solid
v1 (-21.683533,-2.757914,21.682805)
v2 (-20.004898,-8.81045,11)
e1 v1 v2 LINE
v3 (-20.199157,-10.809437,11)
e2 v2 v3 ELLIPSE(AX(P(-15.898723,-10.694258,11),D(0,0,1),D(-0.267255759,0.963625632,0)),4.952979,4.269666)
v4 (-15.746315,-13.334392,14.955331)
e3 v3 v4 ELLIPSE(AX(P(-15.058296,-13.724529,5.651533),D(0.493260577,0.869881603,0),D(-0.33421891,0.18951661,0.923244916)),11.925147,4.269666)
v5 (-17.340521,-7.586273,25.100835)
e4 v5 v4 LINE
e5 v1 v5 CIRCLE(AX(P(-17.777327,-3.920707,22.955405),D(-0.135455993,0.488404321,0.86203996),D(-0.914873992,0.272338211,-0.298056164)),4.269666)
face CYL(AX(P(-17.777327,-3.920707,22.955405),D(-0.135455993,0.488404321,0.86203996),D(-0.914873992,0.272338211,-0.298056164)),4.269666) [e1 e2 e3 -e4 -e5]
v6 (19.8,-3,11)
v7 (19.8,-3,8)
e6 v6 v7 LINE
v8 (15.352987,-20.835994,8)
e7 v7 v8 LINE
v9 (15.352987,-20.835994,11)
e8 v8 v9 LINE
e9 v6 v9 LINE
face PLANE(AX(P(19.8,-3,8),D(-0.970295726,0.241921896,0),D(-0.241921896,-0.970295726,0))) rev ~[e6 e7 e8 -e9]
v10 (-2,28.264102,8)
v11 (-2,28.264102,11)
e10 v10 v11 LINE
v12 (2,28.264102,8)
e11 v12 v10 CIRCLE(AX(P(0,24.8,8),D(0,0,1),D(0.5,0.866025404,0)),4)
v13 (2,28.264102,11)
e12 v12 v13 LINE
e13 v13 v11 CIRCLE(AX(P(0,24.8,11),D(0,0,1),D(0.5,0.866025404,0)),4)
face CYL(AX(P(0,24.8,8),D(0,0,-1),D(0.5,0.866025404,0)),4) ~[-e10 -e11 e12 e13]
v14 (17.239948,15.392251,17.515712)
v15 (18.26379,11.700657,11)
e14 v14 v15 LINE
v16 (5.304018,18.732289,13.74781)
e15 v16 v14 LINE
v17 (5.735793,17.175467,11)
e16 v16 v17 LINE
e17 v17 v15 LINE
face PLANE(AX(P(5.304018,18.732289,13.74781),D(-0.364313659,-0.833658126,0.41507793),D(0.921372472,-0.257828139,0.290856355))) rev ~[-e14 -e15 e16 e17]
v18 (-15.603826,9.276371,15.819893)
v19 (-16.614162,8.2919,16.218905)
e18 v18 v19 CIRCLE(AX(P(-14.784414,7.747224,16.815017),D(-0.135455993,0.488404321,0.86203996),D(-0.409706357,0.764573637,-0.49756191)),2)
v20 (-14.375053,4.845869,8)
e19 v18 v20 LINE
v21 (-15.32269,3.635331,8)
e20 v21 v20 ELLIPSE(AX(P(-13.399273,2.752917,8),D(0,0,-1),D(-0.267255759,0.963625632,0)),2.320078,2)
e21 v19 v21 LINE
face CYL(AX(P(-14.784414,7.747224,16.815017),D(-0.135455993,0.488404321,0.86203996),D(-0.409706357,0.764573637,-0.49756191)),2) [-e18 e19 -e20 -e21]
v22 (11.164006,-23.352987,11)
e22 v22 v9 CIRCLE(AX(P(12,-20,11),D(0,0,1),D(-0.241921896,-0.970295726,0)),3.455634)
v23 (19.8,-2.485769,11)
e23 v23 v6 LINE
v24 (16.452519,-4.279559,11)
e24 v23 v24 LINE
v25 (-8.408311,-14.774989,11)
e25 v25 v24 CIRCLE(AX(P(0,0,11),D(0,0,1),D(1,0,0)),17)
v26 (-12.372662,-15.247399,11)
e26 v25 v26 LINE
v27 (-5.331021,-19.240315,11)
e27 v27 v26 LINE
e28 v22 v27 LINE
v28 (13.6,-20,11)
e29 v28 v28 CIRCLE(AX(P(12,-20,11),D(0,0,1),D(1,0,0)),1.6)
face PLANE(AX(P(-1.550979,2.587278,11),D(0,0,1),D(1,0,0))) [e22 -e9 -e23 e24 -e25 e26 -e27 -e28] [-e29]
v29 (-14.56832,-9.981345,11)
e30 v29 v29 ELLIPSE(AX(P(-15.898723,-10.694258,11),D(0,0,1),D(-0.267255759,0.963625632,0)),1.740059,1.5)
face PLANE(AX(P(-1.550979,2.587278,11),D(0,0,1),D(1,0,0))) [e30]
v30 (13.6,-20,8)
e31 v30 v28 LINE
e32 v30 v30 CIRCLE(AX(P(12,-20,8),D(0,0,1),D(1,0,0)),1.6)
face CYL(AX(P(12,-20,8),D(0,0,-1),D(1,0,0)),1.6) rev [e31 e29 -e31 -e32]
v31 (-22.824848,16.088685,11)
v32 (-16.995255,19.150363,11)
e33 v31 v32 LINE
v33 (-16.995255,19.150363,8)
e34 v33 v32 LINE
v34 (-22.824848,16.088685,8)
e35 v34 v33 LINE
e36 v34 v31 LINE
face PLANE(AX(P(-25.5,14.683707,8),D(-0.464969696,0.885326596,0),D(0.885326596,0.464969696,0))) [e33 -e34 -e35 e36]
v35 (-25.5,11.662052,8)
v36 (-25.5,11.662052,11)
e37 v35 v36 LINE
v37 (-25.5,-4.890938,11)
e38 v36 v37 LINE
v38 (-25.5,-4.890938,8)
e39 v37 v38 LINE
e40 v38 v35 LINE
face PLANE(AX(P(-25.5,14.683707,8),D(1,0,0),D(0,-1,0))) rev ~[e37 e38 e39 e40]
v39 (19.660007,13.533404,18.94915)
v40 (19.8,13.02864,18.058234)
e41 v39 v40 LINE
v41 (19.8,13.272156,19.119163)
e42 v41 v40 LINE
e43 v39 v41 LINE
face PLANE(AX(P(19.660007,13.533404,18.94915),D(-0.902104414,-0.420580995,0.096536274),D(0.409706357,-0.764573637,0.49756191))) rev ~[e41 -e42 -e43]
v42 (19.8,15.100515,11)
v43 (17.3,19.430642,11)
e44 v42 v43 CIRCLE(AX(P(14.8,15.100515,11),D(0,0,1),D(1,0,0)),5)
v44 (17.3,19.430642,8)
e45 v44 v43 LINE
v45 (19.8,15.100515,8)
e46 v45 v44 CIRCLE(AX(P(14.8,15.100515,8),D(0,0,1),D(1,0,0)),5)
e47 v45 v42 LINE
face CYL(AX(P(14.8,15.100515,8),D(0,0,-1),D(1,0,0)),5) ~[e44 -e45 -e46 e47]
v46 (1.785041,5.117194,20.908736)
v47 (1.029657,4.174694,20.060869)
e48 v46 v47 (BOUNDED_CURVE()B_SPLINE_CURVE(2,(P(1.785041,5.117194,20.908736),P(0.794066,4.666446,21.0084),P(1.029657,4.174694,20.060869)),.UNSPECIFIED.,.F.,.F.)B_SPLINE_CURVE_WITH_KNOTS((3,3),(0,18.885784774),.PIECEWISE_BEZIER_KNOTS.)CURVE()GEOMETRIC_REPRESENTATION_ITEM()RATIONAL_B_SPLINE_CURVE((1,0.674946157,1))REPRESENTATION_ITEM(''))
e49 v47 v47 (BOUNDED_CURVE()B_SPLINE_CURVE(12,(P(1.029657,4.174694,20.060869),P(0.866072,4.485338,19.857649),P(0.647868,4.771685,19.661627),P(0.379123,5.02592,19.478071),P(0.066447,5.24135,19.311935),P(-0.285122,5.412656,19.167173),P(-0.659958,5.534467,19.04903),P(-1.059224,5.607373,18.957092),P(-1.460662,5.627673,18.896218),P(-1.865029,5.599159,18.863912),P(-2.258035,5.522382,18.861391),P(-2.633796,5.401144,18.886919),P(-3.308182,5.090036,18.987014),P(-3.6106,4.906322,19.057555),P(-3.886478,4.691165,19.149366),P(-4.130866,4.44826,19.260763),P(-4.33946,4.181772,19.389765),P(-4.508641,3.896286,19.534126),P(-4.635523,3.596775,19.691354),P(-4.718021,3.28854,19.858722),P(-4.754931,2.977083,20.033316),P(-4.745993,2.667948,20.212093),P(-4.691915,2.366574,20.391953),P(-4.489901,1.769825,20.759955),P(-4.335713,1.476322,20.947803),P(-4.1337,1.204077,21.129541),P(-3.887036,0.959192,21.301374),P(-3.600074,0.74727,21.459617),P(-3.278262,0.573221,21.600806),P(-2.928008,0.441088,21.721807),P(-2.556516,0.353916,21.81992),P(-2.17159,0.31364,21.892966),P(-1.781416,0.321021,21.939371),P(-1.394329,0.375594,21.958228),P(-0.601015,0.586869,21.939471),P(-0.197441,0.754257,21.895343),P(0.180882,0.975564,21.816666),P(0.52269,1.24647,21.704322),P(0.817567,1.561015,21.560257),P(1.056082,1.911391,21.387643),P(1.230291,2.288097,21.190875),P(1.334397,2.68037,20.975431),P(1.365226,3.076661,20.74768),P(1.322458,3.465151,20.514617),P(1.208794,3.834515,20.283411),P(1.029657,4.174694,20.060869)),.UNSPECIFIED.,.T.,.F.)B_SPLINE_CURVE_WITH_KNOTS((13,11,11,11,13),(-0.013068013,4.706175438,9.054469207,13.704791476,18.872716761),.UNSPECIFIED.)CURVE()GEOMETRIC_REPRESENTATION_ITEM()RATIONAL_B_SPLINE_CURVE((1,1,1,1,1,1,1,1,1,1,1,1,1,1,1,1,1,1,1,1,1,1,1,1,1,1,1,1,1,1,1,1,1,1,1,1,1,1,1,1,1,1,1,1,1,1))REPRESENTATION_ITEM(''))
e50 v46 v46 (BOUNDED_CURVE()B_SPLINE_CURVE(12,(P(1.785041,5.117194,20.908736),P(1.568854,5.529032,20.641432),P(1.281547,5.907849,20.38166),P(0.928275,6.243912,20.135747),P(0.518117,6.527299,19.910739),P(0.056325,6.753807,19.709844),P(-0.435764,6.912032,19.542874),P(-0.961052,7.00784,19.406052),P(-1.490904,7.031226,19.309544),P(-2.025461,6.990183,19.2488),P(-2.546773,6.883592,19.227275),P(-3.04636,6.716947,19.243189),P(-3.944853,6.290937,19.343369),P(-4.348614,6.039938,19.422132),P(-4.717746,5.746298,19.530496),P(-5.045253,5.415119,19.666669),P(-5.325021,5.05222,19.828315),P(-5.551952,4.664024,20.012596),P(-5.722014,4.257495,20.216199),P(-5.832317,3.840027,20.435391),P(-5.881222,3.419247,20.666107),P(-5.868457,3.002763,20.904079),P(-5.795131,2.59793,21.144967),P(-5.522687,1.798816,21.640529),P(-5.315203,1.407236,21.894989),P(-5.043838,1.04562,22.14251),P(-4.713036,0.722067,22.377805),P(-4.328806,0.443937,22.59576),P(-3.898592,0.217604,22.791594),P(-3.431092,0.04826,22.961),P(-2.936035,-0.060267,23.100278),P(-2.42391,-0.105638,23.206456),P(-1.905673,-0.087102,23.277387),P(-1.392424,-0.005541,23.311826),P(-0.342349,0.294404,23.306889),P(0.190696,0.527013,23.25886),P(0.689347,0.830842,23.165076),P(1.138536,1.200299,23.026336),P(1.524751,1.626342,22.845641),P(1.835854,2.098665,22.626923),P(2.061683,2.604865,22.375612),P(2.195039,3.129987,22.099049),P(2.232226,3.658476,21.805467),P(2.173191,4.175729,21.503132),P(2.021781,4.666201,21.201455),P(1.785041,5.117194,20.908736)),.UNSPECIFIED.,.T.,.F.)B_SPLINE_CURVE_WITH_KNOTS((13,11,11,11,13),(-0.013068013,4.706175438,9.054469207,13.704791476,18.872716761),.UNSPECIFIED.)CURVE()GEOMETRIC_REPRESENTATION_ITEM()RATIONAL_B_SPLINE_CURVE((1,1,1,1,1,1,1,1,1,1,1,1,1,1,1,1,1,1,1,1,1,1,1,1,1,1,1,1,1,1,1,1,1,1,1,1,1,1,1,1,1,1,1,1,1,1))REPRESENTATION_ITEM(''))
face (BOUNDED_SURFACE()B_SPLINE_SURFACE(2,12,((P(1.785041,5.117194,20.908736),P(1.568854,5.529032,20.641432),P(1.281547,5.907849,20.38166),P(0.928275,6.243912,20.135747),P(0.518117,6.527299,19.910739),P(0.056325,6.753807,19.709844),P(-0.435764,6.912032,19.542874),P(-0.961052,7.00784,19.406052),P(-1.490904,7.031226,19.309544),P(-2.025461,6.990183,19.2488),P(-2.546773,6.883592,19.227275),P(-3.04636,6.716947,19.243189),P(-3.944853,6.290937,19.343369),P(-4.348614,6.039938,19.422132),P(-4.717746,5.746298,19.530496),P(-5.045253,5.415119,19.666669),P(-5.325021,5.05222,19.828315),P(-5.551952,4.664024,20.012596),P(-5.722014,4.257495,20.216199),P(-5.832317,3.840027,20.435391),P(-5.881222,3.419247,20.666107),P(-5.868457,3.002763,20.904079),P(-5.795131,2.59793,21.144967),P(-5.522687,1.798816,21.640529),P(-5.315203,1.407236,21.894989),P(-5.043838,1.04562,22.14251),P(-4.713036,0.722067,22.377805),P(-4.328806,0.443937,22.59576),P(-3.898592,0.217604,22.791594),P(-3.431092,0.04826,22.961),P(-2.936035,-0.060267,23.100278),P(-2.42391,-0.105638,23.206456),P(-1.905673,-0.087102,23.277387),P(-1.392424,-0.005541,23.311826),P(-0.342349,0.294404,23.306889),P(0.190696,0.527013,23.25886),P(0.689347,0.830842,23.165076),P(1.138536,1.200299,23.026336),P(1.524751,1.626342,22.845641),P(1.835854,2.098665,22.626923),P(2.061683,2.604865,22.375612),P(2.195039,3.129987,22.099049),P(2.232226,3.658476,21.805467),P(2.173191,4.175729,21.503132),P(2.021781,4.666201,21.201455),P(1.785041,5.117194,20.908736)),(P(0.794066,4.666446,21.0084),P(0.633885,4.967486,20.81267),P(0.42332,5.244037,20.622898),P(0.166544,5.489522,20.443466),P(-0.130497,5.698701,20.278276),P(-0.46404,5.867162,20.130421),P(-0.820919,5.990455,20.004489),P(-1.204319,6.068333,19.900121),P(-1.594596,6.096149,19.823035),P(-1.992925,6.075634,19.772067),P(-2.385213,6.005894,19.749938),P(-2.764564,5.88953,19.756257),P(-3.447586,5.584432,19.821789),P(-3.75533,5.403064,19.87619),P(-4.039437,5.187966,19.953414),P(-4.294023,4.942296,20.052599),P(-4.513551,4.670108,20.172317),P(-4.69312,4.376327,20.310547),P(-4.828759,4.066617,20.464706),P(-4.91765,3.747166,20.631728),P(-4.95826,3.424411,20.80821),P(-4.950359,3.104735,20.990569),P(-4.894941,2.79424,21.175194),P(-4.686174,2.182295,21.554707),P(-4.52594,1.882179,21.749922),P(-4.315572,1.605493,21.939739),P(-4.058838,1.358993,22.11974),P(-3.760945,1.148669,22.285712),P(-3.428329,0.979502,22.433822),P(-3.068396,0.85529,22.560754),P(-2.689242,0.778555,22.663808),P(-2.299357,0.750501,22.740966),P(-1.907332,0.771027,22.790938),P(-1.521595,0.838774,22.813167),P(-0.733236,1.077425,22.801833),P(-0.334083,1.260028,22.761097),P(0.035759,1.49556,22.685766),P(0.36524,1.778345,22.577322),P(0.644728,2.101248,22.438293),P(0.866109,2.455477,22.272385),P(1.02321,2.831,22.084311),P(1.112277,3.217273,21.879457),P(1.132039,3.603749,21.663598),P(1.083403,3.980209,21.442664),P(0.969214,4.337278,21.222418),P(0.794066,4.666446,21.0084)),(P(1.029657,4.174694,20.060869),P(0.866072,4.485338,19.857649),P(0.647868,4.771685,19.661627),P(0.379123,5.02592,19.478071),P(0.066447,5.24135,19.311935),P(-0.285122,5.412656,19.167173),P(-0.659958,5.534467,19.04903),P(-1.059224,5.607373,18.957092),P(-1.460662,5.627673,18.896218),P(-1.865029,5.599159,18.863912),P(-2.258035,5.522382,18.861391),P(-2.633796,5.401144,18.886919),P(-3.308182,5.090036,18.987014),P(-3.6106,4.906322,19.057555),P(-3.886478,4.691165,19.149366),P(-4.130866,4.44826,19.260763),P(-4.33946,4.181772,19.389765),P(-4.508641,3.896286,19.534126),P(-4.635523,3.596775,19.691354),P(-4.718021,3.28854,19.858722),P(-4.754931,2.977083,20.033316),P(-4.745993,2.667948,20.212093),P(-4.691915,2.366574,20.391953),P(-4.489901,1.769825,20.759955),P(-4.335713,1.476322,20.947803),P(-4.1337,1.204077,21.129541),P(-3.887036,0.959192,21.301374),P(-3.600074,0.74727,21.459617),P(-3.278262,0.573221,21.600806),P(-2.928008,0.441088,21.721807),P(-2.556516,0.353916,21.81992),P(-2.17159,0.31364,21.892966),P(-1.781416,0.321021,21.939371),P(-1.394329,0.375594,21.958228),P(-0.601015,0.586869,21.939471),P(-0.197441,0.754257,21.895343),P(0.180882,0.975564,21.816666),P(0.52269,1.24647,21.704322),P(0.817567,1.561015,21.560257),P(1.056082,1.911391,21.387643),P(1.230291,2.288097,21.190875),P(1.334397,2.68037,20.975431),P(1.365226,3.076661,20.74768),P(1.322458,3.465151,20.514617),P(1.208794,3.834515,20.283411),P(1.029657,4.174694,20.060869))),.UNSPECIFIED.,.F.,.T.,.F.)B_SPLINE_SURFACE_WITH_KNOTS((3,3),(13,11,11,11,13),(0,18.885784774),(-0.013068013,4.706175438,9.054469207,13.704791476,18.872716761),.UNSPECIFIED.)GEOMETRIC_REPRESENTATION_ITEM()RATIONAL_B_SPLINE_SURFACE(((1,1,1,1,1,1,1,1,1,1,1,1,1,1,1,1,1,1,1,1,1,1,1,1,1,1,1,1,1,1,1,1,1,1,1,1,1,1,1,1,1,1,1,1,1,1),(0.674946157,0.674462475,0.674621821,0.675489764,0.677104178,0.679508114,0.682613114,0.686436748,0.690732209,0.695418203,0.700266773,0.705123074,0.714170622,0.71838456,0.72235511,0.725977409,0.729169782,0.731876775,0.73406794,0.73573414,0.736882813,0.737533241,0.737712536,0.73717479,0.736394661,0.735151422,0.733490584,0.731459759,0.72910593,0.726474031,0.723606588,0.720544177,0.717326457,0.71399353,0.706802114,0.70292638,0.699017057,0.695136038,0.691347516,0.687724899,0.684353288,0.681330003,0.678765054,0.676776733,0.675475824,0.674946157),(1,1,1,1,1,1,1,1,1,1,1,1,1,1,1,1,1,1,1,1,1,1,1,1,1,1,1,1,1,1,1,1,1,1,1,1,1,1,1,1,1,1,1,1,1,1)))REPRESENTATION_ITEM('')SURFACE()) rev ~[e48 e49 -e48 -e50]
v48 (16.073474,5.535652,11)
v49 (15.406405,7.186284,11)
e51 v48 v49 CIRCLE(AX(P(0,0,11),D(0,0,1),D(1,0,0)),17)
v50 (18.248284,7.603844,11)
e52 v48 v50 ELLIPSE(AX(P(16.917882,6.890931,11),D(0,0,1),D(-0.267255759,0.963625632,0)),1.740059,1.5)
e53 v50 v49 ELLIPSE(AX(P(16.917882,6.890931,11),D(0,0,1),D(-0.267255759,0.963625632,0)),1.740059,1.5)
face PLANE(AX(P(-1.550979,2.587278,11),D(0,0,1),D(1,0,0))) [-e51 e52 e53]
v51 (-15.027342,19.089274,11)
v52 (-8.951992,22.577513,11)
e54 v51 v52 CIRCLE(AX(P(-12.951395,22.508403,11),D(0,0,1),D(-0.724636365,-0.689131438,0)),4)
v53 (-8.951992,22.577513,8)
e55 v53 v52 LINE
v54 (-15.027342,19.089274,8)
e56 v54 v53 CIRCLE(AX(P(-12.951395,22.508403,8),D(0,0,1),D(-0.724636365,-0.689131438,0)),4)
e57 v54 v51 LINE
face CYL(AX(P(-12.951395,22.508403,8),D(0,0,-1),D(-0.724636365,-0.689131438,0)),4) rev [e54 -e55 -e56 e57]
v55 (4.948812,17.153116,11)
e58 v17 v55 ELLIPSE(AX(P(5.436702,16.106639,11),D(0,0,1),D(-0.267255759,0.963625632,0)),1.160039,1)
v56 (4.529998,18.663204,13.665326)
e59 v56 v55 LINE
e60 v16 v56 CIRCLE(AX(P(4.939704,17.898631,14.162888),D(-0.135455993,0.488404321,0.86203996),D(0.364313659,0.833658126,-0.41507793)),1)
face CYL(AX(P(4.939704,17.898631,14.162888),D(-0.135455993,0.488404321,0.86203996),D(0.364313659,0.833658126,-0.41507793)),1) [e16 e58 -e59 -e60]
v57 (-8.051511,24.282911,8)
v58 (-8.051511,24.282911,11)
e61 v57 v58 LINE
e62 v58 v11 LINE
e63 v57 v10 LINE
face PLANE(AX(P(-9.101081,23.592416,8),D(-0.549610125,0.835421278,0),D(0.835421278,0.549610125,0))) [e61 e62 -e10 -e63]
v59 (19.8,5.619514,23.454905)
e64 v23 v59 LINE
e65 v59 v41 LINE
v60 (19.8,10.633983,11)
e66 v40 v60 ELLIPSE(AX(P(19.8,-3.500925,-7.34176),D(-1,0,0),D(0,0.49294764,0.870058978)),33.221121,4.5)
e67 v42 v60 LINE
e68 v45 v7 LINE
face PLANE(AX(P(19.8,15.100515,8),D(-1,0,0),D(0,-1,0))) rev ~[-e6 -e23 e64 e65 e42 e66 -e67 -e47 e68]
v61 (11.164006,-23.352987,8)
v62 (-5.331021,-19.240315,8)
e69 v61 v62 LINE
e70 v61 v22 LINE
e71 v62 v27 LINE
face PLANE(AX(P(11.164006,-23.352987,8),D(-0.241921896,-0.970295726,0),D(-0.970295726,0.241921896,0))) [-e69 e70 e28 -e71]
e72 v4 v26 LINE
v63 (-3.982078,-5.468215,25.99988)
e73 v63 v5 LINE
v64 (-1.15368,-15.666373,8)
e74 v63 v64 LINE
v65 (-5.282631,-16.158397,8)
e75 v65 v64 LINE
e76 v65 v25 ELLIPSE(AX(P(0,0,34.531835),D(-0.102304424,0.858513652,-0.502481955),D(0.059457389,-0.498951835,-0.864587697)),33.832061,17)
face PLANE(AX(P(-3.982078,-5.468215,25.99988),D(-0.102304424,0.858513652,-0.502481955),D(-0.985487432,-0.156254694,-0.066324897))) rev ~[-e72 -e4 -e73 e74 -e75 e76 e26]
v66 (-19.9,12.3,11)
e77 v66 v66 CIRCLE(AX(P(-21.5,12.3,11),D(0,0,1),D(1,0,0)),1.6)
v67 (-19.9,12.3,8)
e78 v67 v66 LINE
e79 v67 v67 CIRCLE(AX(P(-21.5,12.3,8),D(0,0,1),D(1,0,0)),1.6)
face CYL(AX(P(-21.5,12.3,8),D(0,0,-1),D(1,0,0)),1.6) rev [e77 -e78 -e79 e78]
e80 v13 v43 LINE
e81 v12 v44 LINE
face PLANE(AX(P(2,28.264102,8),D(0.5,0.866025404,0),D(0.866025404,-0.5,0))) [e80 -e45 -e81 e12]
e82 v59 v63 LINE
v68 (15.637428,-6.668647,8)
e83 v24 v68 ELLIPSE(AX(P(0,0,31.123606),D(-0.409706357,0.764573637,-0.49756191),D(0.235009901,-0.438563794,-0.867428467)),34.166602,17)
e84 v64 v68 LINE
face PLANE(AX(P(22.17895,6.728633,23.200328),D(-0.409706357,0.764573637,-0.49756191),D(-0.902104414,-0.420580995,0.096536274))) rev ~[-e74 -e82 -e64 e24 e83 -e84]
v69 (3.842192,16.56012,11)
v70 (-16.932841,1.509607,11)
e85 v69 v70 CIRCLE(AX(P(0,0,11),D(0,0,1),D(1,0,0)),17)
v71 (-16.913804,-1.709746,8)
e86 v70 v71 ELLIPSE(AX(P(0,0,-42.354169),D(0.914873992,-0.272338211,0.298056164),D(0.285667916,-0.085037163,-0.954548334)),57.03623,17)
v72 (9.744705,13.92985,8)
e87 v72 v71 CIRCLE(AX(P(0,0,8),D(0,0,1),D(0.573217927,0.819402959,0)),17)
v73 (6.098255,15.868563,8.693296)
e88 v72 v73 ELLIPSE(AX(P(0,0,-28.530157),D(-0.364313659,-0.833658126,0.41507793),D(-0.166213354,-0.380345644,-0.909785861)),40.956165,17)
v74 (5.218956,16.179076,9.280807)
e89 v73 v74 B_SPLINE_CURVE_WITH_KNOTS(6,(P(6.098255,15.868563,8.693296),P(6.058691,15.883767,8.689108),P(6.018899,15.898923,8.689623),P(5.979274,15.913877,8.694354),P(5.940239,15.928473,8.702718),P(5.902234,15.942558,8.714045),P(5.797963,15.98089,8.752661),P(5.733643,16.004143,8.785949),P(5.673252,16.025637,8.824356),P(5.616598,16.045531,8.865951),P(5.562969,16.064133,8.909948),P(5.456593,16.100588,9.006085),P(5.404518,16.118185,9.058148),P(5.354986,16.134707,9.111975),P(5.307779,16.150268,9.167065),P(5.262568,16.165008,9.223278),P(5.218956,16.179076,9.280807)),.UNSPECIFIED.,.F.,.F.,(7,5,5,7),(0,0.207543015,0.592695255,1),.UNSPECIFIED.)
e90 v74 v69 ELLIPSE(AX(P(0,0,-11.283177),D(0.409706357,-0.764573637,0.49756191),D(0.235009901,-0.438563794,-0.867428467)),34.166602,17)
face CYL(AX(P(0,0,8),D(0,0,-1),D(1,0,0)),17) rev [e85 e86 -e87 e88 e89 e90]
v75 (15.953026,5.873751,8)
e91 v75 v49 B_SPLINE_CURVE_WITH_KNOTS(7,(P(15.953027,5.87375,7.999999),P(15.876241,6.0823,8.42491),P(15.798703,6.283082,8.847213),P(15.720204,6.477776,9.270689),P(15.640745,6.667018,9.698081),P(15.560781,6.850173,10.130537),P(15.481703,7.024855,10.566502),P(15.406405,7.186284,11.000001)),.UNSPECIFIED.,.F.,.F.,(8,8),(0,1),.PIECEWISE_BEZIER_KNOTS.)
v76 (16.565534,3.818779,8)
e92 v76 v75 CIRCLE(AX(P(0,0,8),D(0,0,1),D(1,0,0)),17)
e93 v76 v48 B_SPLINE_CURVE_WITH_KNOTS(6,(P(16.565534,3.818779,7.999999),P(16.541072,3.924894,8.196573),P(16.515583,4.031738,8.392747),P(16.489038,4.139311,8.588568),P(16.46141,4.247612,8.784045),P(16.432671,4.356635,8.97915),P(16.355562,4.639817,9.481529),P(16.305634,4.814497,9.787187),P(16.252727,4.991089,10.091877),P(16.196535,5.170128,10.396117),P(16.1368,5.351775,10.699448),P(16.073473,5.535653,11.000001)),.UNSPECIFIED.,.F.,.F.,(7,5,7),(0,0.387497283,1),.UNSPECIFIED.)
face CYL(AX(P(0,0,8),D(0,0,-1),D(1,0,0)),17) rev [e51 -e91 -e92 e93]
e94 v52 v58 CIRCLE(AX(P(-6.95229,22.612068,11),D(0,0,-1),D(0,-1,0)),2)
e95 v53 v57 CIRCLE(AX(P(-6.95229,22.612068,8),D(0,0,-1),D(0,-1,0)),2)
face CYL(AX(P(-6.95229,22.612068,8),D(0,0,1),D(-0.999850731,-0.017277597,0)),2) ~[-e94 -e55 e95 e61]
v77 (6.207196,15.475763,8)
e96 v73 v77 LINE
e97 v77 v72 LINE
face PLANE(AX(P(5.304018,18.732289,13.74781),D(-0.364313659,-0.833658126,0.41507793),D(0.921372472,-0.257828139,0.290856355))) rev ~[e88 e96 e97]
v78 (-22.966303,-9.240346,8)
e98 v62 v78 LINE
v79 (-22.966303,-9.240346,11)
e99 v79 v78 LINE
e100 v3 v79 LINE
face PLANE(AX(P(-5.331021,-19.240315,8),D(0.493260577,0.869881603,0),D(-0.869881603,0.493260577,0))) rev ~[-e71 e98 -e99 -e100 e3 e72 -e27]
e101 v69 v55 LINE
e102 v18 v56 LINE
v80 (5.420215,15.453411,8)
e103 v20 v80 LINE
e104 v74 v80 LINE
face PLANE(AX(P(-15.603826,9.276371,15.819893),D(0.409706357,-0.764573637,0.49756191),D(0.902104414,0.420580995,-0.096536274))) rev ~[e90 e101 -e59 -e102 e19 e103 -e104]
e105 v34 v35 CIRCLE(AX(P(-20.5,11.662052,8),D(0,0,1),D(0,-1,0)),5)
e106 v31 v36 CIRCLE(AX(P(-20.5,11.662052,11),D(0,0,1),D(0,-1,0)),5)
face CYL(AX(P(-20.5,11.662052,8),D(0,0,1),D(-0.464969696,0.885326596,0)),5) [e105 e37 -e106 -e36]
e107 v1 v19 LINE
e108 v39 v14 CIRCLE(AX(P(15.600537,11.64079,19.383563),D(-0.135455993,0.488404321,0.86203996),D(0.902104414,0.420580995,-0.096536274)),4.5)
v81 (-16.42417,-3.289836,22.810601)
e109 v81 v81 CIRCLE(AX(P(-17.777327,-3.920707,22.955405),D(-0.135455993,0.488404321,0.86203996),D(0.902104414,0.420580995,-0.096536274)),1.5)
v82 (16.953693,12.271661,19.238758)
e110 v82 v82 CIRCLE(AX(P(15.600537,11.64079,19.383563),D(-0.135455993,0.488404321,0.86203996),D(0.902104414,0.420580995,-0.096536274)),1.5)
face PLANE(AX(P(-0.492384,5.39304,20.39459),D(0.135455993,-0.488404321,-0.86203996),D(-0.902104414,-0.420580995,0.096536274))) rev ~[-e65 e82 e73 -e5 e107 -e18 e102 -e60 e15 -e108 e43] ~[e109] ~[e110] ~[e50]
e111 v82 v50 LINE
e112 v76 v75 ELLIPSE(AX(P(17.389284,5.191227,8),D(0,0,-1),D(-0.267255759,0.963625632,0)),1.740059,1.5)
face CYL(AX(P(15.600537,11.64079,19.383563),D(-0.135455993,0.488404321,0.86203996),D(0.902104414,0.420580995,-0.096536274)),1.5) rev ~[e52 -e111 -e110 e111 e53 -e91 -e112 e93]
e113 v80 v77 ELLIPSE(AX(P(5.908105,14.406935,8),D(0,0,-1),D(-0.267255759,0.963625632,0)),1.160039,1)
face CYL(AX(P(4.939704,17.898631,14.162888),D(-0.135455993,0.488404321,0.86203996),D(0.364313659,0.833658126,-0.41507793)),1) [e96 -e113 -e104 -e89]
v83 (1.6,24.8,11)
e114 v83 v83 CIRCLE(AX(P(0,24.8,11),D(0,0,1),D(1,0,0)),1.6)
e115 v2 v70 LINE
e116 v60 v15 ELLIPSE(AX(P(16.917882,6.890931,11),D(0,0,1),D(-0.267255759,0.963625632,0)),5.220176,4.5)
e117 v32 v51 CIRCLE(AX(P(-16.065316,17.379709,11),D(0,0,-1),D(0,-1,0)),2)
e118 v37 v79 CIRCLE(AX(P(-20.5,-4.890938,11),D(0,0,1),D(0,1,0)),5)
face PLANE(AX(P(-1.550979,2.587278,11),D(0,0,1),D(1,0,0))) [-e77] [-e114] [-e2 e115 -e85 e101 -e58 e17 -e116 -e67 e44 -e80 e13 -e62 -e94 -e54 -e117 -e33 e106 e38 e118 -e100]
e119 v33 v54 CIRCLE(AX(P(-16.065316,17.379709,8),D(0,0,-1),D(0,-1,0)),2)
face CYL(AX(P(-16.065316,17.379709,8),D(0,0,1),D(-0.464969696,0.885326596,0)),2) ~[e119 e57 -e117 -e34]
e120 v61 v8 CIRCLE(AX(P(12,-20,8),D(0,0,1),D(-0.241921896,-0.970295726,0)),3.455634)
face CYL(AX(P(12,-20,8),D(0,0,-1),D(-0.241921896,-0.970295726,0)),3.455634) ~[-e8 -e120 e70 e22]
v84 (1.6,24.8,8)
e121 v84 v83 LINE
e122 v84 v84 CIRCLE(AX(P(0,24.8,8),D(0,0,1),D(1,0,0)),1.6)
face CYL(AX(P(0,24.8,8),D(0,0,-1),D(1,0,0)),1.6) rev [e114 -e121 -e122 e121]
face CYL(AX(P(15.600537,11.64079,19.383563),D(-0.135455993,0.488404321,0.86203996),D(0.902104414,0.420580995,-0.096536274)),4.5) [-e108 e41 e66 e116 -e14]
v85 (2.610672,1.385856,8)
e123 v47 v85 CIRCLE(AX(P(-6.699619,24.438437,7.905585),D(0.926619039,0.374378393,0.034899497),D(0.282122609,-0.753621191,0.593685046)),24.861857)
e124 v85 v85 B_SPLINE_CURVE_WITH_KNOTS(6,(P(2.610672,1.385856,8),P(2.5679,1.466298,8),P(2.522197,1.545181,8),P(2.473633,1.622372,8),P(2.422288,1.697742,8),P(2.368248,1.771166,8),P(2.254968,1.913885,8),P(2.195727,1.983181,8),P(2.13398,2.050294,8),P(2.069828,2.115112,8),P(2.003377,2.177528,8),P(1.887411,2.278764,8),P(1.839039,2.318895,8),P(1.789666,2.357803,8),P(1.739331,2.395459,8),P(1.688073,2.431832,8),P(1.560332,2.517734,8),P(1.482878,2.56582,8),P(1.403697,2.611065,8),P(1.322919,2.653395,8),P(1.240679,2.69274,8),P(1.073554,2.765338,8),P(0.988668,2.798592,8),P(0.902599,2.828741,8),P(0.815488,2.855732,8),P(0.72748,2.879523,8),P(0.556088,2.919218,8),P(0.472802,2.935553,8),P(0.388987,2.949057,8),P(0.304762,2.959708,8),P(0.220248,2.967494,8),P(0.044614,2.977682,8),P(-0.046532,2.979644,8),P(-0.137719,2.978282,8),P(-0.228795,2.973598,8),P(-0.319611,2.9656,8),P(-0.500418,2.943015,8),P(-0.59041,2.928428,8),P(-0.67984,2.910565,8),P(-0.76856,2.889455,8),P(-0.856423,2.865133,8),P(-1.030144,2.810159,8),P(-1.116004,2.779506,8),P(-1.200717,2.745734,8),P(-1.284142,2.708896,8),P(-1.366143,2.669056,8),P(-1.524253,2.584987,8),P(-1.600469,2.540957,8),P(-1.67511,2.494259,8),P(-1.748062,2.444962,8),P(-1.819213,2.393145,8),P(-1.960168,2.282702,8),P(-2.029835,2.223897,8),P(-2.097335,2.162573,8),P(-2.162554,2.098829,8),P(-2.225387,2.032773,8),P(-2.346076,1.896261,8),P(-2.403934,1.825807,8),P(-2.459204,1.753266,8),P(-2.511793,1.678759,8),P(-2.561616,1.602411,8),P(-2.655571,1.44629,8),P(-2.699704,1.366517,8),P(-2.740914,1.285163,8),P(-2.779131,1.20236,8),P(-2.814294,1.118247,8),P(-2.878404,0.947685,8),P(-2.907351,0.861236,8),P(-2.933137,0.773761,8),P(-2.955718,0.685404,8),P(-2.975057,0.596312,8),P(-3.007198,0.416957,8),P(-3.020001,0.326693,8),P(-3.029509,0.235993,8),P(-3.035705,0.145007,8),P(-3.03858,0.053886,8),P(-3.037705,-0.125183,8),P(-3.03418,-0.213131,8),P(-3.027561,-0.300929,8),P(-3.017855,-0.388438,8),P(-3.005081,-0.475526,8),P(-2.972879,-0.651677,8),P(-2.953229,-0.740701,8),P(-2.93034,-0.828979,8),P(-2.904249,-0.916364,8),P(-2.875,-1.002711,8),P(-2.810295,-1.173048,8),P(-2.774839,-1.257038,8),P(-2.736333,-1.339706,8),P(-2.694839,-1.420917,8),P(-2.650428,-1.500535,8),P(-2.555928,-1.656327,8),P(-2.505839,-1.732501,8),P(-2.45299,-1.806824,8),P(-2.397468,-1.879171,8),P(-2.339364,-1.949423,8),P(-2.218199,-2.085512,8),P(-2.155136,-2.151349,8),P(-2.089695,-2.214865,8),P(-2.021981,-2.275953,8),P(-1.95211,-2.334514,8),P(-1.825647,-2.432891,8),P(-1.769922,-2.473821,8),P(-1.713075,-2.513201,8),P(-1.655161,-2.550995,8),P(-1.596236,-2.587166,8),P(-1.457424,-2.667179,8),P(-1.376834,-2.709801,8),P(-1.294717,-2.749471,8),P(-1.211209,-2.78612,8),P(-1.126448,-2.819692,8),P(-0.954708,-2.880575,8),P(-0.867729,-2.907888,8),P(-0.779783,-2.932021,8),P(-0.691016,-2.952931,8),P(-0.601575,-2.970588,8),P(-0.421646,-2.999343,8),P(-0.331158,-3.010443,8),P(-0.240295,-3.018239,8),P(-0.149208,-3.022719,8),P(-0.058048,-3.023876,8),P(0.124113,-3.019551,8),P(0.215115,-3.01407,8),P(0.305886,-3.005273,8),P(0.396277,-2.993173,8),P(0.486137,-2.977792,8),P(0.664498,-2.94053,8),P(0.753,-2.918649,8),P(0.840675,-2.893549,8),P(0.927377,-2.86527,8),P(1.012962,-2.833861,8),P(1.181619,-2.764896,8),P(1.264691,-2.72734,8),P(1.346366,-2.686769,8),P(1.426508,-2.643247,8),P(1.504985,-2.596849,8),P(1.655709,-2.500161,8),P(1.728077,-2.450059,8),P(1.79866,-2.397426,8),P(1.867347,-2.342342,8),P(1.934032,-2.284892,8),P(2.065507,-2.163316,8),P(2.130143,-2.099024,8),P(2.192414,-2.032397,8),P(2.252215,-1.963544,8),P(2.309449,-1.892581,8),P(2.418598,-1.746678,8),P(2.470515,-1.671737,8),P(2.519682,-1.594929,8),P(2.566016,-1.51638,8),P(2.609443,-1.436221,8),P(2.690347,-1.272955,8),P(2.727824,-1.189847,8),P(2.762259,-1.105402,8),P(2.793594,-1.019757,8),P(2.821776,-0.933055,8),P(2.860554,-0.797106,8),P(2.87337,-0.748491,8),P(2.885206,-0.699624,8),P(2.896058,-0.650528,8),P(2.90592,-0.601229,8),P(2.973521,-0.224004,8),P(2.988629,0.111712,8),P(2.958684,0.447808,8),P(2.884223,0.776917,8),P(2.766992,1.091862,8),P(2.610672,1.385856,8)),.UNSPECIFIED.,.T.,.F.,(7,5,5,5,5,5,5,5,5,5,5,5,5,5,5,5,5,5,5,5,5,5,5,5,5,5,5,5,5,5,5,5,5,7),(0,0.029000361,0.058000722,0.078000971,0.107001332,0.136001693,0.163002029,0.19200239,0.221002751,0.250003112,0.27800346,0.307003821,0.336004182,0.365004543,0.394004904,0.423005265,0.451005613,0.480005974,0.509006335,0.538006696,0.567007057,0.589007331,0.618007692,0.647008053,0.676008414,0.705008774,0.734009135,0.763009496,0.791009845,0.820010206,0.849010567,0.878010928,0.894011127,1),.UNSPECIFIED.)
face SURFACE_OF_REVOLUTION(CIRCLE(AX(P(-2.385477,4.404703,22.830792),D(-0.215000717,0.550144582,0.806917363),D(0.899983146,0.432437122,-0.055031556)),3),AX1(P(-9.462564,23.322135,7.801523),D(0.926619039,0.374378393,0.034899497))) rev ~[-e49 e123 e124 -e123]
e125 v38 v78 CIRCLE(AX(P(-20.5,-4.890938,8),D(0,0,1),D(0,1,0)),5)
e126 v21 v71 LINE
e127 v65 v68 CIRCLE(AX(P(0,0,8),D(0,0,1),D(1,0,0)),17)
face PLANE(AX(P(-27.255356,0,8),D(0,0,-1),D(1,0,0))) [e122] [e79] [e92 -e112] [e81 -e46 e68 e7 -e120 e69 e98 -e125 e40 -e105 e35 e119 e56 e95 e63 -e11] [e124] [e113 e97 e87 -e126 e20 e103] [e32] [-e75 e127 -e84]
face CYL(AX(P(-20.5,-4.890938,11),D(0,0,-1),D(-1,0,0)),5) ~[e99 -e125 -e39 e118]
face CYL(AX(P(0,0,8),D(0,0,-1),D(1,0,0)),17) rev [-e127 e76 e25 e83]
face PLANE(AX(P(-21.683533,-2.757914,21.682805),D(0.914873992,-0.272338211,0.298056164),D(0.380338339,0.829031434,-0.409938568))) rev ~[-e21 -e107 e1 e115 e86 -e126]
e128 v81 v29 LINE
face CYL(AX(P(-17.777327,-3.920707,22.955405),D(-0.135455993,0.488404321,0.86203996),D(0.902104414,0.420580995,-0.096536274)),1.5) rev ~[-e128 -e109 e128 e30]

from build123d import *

# Parameters (mm, degrees)
SKETCH037_R          = 1.6
SKETCH037_R_2        = 17
PAD006_DEPTH         = 3
SKETCH003_R          = 1.5
PAD007_DEPTH         = 22
SKETCH042_R          = 33.309059
POCKET028_DEPTH      = 18.95
SKETCH043_W          = 51.697506
SKETCH043_H          = 15.935999
POCKET029_DEPTH      = 28.801
POCKET029_DEPTH_BACK = 23.4566344398
SKETCH040_R          = 3
FILLET003_R          = 2
FILLET004_R          = 5
FILLET005_R          = 1


with BuildPart() as part:
    # Sketch037 → Pad006 (new body)
    with BuildSketch(Plane.XY.offset(8)):
        with BuildLine():
            Line((-25.5, 14.6837073124), (-25.5, -7.8162926876))
            Line((-5.3310209809, -19.2403151033), (-25.5, -7.8162926876))
            Line((11.1640063658, -23.3529873285), (-5.3310209809, -19.2403151033))
            ThreePointArc((11.1640063658, -23.3529873285), (13.7797833094, -22.9620568449), (15.3529873285, -20.8359936342))
            Line((19.8, -3), (15.3529873285, -20.8359936342))
            Line((19.8, 15.1005154776), (19.8, -3))
            ThreePointArc((19.8, 15.1005154776), (19.1301270189, 17.6005154776), (17.3, 19.4306424965))
            Line((2, 28.2641016151), (17.3, 19.4306424965))
            ThreePointArc((2, 28.2641016151), (0, 28.8), (-2, 28.2641016151))
            Line((-9.101080859, 23.5924155561), (-2, 28.2641016151))
            ThreePointArc((-15.8499401029, 19.751877), (-10.97303678, 19.0318958608), (-9.101080859, 23.5924155561))
            Line((-25.5, 14.6837073124), (-15.8499401029, 19.751877))
        make_face()
        with Locations((0, 24.8)):
            Circle(SKETCH037_R, mode=Mode.SUBTRACT)
        with Locations((12, -20)):
            Circle(SKETCH037_R, mode=Mode.SUBTRACT)
        with Locations((-21.5, 12.3)):
            Circle(SKETCH037_R, mode=Mode.SUBTRACT)
        Circle(SKETCH037_R_2, mode=Mode.SUBTRACT)
    extrude(amount=PAD006_DEPTH)

    # Sketch003 → Pad007 (join)
    with BuildSketch(Plane(origin=(-2.6, 10.8, 17), x_dir=(0.9021044144, 0.420580995, -0.0965362737), z_dir=(-0.1354559934, 0.4884043208, 0.8620399604))):
        with BuildLine():
            Line((-23.3696005315, -4.8773641565), (-13.621692219, 4.2127074032))
            ThreePointArc((-12.2576954989, 4.75), (-12.9906979524, 4.610835136), (-13.621692219, 4.2127074032))
            Line((-12.2576954989, 4.75), (10.0610339657, 4.75))
            ThreePointArc((10.780373766, 4.4446583705), (10.4517650942, 4.6705048535), (10.0610339657, 4.75))
            Line((10.780373766, 4.4446583705), (19.7793336026, -4.8740373329))
            ThreePointArc((21.0423045011, -8), (20.7146318466, -6.3142703296), (19.7793336026, -4.8740373329))
            Line((21.0423045011, -8), (21.0423045011, -15.35))
            ThreePointArc((20.0423045011, -16.35), (20.7494112823, -16.0571067812), (21.0423045011, -15.35))
            Line((20.0423045011, -16.35), (-8.9576954989, -16.35))
            Line((-8.9576954989, -16.35), (-21.8124305048, -12.0490416884))
            ThreePointArc((-23.3696005315, -4.8773641565), (-24.6301401013, -8.9059534041), (-21.8124305048, -12.0490416884))
        make_face()
        with Locations((16.5423045011, -8)):
            Circle(SKETCH003_R, mode=Mode.SUBTRACT)
        with Locations((-20.4576954989, -8)):
            Circle(SKETCH003_R, mode=Mode.SUBTRACT)
    extrude(amount=-PAD007_DEPTH)

    # Sketch042 → Pocket028 (cut, symmetric)
    with BuildSketch(Plane.XY.offset(8)):
        with Locations((0, 3.706026)):
            Circle(SKETCH042_R)
        with BuildLine():
            Line((-25.5, 14.6963702892), (-25.5, -7.8036297108))
            Line((-5.3310209809, -19.2403151033), (-25.5, -7.8036297108))
            Line((11.1640063658, -23.3529873285), (-5.3310209809, -19.2403151033))
            ThreePointArc((11.1640063658, -23.3529873285), (13.7797833094, -22.9620568449), (15.3529873285, -20.8359936342))
            Line((19.8, -3), (15.3529873285, -20.8359936342))
            Line((19.8, 15.1005154776), (19.8, -3))
            ThreePointArc((19.8, 15.1005154776), (19.1301270189, 17.6005154776), (17.3, 19.4306424965))
            Line((2, 28.2641016151), (17.3, 19.4306424965))
            ThreePointArc((2, 28.2641016151), (0, 28.8), (-2, 28.2641016151))
            Line((-25.5, 14.6963702892), (-2, 28.2641016151))
        make_face(mode=Mode.SUBTRACT)
    extrude(amount=POCKET028_DEPTH, both=True, mode=Mode.SUBTRACT)

    # Sketch043 → Pocket029 (cut, two sides)
    with BuildSketch(Plane.XZ) as pocket029_sk:
        with Locations((-1.406603, 0.0320005)):
            Rectangle(SKETCH043_W, SKETCH043_H)
    extrude(amount=-POCKET029_DEPTH, mode=Mode.SUBTRACT)
    extrude(pocket029_sk.sketch, amount=POCKET029_DEPTH_BACK, mode=Mode.SUBTRACT)

    # SubtractivePipe: sweep along a path in Sketch044
    with BuildLine(Plane(origin=(0, 0, 6), x_dir=(-0.3746065934, 0.9271838546, 0), z_dir=(0.9266190392, 0.3743783932, 0.0348994967))) as subtractivepipe_path:
        ThreePointArc((4.9840972168, 16.8364980654), (1.2784963095, 9.7214039712), (0, 1.801714))
    # Sketch040 → SubtractivePipe (sweep, cut)
    with BuildSketch(Plane(origin=(-2, 7.6, 8), x_dir=(0.8829475929, 0.4694715628, 0), z_dir=(0, 0, 1))):
        with Locations((-1.846382, -7.651343)):
            Circle(SKETCH040_R)
    sweep(path=subtractivepipe_path.line, mode=Mode.SUBTRACT)

    # Fillet003
    fillet003_edges = [part.edges().sort_by_distance(p)[0] for p in [
        (-9.101081, 23.592416, 9.5),
        (-15.84994, 19.751877, 9.5),
    ]]
    fillet(fillet003_edges, radius=FILLET003_R)

    # Fillet004
    fillet004_edges = [part.edges().sort_by_distance(p)[0] for p in [
        (-25.5, -7.80363, 9.5),
        (-25.5, 14.683707, 9.5),
    ]]
    fillet(fillet004_edges, radius=FILLET004_R)

    # Fillet005
    fillet005_edges = [part.edges().sort_by_distance(p)[0] for p in [
        (-4.660699, 2.190867, 21.553854),
    ]]
    fillet(fillet005_edges, radius=FILLET005_R)


solid = part.part
